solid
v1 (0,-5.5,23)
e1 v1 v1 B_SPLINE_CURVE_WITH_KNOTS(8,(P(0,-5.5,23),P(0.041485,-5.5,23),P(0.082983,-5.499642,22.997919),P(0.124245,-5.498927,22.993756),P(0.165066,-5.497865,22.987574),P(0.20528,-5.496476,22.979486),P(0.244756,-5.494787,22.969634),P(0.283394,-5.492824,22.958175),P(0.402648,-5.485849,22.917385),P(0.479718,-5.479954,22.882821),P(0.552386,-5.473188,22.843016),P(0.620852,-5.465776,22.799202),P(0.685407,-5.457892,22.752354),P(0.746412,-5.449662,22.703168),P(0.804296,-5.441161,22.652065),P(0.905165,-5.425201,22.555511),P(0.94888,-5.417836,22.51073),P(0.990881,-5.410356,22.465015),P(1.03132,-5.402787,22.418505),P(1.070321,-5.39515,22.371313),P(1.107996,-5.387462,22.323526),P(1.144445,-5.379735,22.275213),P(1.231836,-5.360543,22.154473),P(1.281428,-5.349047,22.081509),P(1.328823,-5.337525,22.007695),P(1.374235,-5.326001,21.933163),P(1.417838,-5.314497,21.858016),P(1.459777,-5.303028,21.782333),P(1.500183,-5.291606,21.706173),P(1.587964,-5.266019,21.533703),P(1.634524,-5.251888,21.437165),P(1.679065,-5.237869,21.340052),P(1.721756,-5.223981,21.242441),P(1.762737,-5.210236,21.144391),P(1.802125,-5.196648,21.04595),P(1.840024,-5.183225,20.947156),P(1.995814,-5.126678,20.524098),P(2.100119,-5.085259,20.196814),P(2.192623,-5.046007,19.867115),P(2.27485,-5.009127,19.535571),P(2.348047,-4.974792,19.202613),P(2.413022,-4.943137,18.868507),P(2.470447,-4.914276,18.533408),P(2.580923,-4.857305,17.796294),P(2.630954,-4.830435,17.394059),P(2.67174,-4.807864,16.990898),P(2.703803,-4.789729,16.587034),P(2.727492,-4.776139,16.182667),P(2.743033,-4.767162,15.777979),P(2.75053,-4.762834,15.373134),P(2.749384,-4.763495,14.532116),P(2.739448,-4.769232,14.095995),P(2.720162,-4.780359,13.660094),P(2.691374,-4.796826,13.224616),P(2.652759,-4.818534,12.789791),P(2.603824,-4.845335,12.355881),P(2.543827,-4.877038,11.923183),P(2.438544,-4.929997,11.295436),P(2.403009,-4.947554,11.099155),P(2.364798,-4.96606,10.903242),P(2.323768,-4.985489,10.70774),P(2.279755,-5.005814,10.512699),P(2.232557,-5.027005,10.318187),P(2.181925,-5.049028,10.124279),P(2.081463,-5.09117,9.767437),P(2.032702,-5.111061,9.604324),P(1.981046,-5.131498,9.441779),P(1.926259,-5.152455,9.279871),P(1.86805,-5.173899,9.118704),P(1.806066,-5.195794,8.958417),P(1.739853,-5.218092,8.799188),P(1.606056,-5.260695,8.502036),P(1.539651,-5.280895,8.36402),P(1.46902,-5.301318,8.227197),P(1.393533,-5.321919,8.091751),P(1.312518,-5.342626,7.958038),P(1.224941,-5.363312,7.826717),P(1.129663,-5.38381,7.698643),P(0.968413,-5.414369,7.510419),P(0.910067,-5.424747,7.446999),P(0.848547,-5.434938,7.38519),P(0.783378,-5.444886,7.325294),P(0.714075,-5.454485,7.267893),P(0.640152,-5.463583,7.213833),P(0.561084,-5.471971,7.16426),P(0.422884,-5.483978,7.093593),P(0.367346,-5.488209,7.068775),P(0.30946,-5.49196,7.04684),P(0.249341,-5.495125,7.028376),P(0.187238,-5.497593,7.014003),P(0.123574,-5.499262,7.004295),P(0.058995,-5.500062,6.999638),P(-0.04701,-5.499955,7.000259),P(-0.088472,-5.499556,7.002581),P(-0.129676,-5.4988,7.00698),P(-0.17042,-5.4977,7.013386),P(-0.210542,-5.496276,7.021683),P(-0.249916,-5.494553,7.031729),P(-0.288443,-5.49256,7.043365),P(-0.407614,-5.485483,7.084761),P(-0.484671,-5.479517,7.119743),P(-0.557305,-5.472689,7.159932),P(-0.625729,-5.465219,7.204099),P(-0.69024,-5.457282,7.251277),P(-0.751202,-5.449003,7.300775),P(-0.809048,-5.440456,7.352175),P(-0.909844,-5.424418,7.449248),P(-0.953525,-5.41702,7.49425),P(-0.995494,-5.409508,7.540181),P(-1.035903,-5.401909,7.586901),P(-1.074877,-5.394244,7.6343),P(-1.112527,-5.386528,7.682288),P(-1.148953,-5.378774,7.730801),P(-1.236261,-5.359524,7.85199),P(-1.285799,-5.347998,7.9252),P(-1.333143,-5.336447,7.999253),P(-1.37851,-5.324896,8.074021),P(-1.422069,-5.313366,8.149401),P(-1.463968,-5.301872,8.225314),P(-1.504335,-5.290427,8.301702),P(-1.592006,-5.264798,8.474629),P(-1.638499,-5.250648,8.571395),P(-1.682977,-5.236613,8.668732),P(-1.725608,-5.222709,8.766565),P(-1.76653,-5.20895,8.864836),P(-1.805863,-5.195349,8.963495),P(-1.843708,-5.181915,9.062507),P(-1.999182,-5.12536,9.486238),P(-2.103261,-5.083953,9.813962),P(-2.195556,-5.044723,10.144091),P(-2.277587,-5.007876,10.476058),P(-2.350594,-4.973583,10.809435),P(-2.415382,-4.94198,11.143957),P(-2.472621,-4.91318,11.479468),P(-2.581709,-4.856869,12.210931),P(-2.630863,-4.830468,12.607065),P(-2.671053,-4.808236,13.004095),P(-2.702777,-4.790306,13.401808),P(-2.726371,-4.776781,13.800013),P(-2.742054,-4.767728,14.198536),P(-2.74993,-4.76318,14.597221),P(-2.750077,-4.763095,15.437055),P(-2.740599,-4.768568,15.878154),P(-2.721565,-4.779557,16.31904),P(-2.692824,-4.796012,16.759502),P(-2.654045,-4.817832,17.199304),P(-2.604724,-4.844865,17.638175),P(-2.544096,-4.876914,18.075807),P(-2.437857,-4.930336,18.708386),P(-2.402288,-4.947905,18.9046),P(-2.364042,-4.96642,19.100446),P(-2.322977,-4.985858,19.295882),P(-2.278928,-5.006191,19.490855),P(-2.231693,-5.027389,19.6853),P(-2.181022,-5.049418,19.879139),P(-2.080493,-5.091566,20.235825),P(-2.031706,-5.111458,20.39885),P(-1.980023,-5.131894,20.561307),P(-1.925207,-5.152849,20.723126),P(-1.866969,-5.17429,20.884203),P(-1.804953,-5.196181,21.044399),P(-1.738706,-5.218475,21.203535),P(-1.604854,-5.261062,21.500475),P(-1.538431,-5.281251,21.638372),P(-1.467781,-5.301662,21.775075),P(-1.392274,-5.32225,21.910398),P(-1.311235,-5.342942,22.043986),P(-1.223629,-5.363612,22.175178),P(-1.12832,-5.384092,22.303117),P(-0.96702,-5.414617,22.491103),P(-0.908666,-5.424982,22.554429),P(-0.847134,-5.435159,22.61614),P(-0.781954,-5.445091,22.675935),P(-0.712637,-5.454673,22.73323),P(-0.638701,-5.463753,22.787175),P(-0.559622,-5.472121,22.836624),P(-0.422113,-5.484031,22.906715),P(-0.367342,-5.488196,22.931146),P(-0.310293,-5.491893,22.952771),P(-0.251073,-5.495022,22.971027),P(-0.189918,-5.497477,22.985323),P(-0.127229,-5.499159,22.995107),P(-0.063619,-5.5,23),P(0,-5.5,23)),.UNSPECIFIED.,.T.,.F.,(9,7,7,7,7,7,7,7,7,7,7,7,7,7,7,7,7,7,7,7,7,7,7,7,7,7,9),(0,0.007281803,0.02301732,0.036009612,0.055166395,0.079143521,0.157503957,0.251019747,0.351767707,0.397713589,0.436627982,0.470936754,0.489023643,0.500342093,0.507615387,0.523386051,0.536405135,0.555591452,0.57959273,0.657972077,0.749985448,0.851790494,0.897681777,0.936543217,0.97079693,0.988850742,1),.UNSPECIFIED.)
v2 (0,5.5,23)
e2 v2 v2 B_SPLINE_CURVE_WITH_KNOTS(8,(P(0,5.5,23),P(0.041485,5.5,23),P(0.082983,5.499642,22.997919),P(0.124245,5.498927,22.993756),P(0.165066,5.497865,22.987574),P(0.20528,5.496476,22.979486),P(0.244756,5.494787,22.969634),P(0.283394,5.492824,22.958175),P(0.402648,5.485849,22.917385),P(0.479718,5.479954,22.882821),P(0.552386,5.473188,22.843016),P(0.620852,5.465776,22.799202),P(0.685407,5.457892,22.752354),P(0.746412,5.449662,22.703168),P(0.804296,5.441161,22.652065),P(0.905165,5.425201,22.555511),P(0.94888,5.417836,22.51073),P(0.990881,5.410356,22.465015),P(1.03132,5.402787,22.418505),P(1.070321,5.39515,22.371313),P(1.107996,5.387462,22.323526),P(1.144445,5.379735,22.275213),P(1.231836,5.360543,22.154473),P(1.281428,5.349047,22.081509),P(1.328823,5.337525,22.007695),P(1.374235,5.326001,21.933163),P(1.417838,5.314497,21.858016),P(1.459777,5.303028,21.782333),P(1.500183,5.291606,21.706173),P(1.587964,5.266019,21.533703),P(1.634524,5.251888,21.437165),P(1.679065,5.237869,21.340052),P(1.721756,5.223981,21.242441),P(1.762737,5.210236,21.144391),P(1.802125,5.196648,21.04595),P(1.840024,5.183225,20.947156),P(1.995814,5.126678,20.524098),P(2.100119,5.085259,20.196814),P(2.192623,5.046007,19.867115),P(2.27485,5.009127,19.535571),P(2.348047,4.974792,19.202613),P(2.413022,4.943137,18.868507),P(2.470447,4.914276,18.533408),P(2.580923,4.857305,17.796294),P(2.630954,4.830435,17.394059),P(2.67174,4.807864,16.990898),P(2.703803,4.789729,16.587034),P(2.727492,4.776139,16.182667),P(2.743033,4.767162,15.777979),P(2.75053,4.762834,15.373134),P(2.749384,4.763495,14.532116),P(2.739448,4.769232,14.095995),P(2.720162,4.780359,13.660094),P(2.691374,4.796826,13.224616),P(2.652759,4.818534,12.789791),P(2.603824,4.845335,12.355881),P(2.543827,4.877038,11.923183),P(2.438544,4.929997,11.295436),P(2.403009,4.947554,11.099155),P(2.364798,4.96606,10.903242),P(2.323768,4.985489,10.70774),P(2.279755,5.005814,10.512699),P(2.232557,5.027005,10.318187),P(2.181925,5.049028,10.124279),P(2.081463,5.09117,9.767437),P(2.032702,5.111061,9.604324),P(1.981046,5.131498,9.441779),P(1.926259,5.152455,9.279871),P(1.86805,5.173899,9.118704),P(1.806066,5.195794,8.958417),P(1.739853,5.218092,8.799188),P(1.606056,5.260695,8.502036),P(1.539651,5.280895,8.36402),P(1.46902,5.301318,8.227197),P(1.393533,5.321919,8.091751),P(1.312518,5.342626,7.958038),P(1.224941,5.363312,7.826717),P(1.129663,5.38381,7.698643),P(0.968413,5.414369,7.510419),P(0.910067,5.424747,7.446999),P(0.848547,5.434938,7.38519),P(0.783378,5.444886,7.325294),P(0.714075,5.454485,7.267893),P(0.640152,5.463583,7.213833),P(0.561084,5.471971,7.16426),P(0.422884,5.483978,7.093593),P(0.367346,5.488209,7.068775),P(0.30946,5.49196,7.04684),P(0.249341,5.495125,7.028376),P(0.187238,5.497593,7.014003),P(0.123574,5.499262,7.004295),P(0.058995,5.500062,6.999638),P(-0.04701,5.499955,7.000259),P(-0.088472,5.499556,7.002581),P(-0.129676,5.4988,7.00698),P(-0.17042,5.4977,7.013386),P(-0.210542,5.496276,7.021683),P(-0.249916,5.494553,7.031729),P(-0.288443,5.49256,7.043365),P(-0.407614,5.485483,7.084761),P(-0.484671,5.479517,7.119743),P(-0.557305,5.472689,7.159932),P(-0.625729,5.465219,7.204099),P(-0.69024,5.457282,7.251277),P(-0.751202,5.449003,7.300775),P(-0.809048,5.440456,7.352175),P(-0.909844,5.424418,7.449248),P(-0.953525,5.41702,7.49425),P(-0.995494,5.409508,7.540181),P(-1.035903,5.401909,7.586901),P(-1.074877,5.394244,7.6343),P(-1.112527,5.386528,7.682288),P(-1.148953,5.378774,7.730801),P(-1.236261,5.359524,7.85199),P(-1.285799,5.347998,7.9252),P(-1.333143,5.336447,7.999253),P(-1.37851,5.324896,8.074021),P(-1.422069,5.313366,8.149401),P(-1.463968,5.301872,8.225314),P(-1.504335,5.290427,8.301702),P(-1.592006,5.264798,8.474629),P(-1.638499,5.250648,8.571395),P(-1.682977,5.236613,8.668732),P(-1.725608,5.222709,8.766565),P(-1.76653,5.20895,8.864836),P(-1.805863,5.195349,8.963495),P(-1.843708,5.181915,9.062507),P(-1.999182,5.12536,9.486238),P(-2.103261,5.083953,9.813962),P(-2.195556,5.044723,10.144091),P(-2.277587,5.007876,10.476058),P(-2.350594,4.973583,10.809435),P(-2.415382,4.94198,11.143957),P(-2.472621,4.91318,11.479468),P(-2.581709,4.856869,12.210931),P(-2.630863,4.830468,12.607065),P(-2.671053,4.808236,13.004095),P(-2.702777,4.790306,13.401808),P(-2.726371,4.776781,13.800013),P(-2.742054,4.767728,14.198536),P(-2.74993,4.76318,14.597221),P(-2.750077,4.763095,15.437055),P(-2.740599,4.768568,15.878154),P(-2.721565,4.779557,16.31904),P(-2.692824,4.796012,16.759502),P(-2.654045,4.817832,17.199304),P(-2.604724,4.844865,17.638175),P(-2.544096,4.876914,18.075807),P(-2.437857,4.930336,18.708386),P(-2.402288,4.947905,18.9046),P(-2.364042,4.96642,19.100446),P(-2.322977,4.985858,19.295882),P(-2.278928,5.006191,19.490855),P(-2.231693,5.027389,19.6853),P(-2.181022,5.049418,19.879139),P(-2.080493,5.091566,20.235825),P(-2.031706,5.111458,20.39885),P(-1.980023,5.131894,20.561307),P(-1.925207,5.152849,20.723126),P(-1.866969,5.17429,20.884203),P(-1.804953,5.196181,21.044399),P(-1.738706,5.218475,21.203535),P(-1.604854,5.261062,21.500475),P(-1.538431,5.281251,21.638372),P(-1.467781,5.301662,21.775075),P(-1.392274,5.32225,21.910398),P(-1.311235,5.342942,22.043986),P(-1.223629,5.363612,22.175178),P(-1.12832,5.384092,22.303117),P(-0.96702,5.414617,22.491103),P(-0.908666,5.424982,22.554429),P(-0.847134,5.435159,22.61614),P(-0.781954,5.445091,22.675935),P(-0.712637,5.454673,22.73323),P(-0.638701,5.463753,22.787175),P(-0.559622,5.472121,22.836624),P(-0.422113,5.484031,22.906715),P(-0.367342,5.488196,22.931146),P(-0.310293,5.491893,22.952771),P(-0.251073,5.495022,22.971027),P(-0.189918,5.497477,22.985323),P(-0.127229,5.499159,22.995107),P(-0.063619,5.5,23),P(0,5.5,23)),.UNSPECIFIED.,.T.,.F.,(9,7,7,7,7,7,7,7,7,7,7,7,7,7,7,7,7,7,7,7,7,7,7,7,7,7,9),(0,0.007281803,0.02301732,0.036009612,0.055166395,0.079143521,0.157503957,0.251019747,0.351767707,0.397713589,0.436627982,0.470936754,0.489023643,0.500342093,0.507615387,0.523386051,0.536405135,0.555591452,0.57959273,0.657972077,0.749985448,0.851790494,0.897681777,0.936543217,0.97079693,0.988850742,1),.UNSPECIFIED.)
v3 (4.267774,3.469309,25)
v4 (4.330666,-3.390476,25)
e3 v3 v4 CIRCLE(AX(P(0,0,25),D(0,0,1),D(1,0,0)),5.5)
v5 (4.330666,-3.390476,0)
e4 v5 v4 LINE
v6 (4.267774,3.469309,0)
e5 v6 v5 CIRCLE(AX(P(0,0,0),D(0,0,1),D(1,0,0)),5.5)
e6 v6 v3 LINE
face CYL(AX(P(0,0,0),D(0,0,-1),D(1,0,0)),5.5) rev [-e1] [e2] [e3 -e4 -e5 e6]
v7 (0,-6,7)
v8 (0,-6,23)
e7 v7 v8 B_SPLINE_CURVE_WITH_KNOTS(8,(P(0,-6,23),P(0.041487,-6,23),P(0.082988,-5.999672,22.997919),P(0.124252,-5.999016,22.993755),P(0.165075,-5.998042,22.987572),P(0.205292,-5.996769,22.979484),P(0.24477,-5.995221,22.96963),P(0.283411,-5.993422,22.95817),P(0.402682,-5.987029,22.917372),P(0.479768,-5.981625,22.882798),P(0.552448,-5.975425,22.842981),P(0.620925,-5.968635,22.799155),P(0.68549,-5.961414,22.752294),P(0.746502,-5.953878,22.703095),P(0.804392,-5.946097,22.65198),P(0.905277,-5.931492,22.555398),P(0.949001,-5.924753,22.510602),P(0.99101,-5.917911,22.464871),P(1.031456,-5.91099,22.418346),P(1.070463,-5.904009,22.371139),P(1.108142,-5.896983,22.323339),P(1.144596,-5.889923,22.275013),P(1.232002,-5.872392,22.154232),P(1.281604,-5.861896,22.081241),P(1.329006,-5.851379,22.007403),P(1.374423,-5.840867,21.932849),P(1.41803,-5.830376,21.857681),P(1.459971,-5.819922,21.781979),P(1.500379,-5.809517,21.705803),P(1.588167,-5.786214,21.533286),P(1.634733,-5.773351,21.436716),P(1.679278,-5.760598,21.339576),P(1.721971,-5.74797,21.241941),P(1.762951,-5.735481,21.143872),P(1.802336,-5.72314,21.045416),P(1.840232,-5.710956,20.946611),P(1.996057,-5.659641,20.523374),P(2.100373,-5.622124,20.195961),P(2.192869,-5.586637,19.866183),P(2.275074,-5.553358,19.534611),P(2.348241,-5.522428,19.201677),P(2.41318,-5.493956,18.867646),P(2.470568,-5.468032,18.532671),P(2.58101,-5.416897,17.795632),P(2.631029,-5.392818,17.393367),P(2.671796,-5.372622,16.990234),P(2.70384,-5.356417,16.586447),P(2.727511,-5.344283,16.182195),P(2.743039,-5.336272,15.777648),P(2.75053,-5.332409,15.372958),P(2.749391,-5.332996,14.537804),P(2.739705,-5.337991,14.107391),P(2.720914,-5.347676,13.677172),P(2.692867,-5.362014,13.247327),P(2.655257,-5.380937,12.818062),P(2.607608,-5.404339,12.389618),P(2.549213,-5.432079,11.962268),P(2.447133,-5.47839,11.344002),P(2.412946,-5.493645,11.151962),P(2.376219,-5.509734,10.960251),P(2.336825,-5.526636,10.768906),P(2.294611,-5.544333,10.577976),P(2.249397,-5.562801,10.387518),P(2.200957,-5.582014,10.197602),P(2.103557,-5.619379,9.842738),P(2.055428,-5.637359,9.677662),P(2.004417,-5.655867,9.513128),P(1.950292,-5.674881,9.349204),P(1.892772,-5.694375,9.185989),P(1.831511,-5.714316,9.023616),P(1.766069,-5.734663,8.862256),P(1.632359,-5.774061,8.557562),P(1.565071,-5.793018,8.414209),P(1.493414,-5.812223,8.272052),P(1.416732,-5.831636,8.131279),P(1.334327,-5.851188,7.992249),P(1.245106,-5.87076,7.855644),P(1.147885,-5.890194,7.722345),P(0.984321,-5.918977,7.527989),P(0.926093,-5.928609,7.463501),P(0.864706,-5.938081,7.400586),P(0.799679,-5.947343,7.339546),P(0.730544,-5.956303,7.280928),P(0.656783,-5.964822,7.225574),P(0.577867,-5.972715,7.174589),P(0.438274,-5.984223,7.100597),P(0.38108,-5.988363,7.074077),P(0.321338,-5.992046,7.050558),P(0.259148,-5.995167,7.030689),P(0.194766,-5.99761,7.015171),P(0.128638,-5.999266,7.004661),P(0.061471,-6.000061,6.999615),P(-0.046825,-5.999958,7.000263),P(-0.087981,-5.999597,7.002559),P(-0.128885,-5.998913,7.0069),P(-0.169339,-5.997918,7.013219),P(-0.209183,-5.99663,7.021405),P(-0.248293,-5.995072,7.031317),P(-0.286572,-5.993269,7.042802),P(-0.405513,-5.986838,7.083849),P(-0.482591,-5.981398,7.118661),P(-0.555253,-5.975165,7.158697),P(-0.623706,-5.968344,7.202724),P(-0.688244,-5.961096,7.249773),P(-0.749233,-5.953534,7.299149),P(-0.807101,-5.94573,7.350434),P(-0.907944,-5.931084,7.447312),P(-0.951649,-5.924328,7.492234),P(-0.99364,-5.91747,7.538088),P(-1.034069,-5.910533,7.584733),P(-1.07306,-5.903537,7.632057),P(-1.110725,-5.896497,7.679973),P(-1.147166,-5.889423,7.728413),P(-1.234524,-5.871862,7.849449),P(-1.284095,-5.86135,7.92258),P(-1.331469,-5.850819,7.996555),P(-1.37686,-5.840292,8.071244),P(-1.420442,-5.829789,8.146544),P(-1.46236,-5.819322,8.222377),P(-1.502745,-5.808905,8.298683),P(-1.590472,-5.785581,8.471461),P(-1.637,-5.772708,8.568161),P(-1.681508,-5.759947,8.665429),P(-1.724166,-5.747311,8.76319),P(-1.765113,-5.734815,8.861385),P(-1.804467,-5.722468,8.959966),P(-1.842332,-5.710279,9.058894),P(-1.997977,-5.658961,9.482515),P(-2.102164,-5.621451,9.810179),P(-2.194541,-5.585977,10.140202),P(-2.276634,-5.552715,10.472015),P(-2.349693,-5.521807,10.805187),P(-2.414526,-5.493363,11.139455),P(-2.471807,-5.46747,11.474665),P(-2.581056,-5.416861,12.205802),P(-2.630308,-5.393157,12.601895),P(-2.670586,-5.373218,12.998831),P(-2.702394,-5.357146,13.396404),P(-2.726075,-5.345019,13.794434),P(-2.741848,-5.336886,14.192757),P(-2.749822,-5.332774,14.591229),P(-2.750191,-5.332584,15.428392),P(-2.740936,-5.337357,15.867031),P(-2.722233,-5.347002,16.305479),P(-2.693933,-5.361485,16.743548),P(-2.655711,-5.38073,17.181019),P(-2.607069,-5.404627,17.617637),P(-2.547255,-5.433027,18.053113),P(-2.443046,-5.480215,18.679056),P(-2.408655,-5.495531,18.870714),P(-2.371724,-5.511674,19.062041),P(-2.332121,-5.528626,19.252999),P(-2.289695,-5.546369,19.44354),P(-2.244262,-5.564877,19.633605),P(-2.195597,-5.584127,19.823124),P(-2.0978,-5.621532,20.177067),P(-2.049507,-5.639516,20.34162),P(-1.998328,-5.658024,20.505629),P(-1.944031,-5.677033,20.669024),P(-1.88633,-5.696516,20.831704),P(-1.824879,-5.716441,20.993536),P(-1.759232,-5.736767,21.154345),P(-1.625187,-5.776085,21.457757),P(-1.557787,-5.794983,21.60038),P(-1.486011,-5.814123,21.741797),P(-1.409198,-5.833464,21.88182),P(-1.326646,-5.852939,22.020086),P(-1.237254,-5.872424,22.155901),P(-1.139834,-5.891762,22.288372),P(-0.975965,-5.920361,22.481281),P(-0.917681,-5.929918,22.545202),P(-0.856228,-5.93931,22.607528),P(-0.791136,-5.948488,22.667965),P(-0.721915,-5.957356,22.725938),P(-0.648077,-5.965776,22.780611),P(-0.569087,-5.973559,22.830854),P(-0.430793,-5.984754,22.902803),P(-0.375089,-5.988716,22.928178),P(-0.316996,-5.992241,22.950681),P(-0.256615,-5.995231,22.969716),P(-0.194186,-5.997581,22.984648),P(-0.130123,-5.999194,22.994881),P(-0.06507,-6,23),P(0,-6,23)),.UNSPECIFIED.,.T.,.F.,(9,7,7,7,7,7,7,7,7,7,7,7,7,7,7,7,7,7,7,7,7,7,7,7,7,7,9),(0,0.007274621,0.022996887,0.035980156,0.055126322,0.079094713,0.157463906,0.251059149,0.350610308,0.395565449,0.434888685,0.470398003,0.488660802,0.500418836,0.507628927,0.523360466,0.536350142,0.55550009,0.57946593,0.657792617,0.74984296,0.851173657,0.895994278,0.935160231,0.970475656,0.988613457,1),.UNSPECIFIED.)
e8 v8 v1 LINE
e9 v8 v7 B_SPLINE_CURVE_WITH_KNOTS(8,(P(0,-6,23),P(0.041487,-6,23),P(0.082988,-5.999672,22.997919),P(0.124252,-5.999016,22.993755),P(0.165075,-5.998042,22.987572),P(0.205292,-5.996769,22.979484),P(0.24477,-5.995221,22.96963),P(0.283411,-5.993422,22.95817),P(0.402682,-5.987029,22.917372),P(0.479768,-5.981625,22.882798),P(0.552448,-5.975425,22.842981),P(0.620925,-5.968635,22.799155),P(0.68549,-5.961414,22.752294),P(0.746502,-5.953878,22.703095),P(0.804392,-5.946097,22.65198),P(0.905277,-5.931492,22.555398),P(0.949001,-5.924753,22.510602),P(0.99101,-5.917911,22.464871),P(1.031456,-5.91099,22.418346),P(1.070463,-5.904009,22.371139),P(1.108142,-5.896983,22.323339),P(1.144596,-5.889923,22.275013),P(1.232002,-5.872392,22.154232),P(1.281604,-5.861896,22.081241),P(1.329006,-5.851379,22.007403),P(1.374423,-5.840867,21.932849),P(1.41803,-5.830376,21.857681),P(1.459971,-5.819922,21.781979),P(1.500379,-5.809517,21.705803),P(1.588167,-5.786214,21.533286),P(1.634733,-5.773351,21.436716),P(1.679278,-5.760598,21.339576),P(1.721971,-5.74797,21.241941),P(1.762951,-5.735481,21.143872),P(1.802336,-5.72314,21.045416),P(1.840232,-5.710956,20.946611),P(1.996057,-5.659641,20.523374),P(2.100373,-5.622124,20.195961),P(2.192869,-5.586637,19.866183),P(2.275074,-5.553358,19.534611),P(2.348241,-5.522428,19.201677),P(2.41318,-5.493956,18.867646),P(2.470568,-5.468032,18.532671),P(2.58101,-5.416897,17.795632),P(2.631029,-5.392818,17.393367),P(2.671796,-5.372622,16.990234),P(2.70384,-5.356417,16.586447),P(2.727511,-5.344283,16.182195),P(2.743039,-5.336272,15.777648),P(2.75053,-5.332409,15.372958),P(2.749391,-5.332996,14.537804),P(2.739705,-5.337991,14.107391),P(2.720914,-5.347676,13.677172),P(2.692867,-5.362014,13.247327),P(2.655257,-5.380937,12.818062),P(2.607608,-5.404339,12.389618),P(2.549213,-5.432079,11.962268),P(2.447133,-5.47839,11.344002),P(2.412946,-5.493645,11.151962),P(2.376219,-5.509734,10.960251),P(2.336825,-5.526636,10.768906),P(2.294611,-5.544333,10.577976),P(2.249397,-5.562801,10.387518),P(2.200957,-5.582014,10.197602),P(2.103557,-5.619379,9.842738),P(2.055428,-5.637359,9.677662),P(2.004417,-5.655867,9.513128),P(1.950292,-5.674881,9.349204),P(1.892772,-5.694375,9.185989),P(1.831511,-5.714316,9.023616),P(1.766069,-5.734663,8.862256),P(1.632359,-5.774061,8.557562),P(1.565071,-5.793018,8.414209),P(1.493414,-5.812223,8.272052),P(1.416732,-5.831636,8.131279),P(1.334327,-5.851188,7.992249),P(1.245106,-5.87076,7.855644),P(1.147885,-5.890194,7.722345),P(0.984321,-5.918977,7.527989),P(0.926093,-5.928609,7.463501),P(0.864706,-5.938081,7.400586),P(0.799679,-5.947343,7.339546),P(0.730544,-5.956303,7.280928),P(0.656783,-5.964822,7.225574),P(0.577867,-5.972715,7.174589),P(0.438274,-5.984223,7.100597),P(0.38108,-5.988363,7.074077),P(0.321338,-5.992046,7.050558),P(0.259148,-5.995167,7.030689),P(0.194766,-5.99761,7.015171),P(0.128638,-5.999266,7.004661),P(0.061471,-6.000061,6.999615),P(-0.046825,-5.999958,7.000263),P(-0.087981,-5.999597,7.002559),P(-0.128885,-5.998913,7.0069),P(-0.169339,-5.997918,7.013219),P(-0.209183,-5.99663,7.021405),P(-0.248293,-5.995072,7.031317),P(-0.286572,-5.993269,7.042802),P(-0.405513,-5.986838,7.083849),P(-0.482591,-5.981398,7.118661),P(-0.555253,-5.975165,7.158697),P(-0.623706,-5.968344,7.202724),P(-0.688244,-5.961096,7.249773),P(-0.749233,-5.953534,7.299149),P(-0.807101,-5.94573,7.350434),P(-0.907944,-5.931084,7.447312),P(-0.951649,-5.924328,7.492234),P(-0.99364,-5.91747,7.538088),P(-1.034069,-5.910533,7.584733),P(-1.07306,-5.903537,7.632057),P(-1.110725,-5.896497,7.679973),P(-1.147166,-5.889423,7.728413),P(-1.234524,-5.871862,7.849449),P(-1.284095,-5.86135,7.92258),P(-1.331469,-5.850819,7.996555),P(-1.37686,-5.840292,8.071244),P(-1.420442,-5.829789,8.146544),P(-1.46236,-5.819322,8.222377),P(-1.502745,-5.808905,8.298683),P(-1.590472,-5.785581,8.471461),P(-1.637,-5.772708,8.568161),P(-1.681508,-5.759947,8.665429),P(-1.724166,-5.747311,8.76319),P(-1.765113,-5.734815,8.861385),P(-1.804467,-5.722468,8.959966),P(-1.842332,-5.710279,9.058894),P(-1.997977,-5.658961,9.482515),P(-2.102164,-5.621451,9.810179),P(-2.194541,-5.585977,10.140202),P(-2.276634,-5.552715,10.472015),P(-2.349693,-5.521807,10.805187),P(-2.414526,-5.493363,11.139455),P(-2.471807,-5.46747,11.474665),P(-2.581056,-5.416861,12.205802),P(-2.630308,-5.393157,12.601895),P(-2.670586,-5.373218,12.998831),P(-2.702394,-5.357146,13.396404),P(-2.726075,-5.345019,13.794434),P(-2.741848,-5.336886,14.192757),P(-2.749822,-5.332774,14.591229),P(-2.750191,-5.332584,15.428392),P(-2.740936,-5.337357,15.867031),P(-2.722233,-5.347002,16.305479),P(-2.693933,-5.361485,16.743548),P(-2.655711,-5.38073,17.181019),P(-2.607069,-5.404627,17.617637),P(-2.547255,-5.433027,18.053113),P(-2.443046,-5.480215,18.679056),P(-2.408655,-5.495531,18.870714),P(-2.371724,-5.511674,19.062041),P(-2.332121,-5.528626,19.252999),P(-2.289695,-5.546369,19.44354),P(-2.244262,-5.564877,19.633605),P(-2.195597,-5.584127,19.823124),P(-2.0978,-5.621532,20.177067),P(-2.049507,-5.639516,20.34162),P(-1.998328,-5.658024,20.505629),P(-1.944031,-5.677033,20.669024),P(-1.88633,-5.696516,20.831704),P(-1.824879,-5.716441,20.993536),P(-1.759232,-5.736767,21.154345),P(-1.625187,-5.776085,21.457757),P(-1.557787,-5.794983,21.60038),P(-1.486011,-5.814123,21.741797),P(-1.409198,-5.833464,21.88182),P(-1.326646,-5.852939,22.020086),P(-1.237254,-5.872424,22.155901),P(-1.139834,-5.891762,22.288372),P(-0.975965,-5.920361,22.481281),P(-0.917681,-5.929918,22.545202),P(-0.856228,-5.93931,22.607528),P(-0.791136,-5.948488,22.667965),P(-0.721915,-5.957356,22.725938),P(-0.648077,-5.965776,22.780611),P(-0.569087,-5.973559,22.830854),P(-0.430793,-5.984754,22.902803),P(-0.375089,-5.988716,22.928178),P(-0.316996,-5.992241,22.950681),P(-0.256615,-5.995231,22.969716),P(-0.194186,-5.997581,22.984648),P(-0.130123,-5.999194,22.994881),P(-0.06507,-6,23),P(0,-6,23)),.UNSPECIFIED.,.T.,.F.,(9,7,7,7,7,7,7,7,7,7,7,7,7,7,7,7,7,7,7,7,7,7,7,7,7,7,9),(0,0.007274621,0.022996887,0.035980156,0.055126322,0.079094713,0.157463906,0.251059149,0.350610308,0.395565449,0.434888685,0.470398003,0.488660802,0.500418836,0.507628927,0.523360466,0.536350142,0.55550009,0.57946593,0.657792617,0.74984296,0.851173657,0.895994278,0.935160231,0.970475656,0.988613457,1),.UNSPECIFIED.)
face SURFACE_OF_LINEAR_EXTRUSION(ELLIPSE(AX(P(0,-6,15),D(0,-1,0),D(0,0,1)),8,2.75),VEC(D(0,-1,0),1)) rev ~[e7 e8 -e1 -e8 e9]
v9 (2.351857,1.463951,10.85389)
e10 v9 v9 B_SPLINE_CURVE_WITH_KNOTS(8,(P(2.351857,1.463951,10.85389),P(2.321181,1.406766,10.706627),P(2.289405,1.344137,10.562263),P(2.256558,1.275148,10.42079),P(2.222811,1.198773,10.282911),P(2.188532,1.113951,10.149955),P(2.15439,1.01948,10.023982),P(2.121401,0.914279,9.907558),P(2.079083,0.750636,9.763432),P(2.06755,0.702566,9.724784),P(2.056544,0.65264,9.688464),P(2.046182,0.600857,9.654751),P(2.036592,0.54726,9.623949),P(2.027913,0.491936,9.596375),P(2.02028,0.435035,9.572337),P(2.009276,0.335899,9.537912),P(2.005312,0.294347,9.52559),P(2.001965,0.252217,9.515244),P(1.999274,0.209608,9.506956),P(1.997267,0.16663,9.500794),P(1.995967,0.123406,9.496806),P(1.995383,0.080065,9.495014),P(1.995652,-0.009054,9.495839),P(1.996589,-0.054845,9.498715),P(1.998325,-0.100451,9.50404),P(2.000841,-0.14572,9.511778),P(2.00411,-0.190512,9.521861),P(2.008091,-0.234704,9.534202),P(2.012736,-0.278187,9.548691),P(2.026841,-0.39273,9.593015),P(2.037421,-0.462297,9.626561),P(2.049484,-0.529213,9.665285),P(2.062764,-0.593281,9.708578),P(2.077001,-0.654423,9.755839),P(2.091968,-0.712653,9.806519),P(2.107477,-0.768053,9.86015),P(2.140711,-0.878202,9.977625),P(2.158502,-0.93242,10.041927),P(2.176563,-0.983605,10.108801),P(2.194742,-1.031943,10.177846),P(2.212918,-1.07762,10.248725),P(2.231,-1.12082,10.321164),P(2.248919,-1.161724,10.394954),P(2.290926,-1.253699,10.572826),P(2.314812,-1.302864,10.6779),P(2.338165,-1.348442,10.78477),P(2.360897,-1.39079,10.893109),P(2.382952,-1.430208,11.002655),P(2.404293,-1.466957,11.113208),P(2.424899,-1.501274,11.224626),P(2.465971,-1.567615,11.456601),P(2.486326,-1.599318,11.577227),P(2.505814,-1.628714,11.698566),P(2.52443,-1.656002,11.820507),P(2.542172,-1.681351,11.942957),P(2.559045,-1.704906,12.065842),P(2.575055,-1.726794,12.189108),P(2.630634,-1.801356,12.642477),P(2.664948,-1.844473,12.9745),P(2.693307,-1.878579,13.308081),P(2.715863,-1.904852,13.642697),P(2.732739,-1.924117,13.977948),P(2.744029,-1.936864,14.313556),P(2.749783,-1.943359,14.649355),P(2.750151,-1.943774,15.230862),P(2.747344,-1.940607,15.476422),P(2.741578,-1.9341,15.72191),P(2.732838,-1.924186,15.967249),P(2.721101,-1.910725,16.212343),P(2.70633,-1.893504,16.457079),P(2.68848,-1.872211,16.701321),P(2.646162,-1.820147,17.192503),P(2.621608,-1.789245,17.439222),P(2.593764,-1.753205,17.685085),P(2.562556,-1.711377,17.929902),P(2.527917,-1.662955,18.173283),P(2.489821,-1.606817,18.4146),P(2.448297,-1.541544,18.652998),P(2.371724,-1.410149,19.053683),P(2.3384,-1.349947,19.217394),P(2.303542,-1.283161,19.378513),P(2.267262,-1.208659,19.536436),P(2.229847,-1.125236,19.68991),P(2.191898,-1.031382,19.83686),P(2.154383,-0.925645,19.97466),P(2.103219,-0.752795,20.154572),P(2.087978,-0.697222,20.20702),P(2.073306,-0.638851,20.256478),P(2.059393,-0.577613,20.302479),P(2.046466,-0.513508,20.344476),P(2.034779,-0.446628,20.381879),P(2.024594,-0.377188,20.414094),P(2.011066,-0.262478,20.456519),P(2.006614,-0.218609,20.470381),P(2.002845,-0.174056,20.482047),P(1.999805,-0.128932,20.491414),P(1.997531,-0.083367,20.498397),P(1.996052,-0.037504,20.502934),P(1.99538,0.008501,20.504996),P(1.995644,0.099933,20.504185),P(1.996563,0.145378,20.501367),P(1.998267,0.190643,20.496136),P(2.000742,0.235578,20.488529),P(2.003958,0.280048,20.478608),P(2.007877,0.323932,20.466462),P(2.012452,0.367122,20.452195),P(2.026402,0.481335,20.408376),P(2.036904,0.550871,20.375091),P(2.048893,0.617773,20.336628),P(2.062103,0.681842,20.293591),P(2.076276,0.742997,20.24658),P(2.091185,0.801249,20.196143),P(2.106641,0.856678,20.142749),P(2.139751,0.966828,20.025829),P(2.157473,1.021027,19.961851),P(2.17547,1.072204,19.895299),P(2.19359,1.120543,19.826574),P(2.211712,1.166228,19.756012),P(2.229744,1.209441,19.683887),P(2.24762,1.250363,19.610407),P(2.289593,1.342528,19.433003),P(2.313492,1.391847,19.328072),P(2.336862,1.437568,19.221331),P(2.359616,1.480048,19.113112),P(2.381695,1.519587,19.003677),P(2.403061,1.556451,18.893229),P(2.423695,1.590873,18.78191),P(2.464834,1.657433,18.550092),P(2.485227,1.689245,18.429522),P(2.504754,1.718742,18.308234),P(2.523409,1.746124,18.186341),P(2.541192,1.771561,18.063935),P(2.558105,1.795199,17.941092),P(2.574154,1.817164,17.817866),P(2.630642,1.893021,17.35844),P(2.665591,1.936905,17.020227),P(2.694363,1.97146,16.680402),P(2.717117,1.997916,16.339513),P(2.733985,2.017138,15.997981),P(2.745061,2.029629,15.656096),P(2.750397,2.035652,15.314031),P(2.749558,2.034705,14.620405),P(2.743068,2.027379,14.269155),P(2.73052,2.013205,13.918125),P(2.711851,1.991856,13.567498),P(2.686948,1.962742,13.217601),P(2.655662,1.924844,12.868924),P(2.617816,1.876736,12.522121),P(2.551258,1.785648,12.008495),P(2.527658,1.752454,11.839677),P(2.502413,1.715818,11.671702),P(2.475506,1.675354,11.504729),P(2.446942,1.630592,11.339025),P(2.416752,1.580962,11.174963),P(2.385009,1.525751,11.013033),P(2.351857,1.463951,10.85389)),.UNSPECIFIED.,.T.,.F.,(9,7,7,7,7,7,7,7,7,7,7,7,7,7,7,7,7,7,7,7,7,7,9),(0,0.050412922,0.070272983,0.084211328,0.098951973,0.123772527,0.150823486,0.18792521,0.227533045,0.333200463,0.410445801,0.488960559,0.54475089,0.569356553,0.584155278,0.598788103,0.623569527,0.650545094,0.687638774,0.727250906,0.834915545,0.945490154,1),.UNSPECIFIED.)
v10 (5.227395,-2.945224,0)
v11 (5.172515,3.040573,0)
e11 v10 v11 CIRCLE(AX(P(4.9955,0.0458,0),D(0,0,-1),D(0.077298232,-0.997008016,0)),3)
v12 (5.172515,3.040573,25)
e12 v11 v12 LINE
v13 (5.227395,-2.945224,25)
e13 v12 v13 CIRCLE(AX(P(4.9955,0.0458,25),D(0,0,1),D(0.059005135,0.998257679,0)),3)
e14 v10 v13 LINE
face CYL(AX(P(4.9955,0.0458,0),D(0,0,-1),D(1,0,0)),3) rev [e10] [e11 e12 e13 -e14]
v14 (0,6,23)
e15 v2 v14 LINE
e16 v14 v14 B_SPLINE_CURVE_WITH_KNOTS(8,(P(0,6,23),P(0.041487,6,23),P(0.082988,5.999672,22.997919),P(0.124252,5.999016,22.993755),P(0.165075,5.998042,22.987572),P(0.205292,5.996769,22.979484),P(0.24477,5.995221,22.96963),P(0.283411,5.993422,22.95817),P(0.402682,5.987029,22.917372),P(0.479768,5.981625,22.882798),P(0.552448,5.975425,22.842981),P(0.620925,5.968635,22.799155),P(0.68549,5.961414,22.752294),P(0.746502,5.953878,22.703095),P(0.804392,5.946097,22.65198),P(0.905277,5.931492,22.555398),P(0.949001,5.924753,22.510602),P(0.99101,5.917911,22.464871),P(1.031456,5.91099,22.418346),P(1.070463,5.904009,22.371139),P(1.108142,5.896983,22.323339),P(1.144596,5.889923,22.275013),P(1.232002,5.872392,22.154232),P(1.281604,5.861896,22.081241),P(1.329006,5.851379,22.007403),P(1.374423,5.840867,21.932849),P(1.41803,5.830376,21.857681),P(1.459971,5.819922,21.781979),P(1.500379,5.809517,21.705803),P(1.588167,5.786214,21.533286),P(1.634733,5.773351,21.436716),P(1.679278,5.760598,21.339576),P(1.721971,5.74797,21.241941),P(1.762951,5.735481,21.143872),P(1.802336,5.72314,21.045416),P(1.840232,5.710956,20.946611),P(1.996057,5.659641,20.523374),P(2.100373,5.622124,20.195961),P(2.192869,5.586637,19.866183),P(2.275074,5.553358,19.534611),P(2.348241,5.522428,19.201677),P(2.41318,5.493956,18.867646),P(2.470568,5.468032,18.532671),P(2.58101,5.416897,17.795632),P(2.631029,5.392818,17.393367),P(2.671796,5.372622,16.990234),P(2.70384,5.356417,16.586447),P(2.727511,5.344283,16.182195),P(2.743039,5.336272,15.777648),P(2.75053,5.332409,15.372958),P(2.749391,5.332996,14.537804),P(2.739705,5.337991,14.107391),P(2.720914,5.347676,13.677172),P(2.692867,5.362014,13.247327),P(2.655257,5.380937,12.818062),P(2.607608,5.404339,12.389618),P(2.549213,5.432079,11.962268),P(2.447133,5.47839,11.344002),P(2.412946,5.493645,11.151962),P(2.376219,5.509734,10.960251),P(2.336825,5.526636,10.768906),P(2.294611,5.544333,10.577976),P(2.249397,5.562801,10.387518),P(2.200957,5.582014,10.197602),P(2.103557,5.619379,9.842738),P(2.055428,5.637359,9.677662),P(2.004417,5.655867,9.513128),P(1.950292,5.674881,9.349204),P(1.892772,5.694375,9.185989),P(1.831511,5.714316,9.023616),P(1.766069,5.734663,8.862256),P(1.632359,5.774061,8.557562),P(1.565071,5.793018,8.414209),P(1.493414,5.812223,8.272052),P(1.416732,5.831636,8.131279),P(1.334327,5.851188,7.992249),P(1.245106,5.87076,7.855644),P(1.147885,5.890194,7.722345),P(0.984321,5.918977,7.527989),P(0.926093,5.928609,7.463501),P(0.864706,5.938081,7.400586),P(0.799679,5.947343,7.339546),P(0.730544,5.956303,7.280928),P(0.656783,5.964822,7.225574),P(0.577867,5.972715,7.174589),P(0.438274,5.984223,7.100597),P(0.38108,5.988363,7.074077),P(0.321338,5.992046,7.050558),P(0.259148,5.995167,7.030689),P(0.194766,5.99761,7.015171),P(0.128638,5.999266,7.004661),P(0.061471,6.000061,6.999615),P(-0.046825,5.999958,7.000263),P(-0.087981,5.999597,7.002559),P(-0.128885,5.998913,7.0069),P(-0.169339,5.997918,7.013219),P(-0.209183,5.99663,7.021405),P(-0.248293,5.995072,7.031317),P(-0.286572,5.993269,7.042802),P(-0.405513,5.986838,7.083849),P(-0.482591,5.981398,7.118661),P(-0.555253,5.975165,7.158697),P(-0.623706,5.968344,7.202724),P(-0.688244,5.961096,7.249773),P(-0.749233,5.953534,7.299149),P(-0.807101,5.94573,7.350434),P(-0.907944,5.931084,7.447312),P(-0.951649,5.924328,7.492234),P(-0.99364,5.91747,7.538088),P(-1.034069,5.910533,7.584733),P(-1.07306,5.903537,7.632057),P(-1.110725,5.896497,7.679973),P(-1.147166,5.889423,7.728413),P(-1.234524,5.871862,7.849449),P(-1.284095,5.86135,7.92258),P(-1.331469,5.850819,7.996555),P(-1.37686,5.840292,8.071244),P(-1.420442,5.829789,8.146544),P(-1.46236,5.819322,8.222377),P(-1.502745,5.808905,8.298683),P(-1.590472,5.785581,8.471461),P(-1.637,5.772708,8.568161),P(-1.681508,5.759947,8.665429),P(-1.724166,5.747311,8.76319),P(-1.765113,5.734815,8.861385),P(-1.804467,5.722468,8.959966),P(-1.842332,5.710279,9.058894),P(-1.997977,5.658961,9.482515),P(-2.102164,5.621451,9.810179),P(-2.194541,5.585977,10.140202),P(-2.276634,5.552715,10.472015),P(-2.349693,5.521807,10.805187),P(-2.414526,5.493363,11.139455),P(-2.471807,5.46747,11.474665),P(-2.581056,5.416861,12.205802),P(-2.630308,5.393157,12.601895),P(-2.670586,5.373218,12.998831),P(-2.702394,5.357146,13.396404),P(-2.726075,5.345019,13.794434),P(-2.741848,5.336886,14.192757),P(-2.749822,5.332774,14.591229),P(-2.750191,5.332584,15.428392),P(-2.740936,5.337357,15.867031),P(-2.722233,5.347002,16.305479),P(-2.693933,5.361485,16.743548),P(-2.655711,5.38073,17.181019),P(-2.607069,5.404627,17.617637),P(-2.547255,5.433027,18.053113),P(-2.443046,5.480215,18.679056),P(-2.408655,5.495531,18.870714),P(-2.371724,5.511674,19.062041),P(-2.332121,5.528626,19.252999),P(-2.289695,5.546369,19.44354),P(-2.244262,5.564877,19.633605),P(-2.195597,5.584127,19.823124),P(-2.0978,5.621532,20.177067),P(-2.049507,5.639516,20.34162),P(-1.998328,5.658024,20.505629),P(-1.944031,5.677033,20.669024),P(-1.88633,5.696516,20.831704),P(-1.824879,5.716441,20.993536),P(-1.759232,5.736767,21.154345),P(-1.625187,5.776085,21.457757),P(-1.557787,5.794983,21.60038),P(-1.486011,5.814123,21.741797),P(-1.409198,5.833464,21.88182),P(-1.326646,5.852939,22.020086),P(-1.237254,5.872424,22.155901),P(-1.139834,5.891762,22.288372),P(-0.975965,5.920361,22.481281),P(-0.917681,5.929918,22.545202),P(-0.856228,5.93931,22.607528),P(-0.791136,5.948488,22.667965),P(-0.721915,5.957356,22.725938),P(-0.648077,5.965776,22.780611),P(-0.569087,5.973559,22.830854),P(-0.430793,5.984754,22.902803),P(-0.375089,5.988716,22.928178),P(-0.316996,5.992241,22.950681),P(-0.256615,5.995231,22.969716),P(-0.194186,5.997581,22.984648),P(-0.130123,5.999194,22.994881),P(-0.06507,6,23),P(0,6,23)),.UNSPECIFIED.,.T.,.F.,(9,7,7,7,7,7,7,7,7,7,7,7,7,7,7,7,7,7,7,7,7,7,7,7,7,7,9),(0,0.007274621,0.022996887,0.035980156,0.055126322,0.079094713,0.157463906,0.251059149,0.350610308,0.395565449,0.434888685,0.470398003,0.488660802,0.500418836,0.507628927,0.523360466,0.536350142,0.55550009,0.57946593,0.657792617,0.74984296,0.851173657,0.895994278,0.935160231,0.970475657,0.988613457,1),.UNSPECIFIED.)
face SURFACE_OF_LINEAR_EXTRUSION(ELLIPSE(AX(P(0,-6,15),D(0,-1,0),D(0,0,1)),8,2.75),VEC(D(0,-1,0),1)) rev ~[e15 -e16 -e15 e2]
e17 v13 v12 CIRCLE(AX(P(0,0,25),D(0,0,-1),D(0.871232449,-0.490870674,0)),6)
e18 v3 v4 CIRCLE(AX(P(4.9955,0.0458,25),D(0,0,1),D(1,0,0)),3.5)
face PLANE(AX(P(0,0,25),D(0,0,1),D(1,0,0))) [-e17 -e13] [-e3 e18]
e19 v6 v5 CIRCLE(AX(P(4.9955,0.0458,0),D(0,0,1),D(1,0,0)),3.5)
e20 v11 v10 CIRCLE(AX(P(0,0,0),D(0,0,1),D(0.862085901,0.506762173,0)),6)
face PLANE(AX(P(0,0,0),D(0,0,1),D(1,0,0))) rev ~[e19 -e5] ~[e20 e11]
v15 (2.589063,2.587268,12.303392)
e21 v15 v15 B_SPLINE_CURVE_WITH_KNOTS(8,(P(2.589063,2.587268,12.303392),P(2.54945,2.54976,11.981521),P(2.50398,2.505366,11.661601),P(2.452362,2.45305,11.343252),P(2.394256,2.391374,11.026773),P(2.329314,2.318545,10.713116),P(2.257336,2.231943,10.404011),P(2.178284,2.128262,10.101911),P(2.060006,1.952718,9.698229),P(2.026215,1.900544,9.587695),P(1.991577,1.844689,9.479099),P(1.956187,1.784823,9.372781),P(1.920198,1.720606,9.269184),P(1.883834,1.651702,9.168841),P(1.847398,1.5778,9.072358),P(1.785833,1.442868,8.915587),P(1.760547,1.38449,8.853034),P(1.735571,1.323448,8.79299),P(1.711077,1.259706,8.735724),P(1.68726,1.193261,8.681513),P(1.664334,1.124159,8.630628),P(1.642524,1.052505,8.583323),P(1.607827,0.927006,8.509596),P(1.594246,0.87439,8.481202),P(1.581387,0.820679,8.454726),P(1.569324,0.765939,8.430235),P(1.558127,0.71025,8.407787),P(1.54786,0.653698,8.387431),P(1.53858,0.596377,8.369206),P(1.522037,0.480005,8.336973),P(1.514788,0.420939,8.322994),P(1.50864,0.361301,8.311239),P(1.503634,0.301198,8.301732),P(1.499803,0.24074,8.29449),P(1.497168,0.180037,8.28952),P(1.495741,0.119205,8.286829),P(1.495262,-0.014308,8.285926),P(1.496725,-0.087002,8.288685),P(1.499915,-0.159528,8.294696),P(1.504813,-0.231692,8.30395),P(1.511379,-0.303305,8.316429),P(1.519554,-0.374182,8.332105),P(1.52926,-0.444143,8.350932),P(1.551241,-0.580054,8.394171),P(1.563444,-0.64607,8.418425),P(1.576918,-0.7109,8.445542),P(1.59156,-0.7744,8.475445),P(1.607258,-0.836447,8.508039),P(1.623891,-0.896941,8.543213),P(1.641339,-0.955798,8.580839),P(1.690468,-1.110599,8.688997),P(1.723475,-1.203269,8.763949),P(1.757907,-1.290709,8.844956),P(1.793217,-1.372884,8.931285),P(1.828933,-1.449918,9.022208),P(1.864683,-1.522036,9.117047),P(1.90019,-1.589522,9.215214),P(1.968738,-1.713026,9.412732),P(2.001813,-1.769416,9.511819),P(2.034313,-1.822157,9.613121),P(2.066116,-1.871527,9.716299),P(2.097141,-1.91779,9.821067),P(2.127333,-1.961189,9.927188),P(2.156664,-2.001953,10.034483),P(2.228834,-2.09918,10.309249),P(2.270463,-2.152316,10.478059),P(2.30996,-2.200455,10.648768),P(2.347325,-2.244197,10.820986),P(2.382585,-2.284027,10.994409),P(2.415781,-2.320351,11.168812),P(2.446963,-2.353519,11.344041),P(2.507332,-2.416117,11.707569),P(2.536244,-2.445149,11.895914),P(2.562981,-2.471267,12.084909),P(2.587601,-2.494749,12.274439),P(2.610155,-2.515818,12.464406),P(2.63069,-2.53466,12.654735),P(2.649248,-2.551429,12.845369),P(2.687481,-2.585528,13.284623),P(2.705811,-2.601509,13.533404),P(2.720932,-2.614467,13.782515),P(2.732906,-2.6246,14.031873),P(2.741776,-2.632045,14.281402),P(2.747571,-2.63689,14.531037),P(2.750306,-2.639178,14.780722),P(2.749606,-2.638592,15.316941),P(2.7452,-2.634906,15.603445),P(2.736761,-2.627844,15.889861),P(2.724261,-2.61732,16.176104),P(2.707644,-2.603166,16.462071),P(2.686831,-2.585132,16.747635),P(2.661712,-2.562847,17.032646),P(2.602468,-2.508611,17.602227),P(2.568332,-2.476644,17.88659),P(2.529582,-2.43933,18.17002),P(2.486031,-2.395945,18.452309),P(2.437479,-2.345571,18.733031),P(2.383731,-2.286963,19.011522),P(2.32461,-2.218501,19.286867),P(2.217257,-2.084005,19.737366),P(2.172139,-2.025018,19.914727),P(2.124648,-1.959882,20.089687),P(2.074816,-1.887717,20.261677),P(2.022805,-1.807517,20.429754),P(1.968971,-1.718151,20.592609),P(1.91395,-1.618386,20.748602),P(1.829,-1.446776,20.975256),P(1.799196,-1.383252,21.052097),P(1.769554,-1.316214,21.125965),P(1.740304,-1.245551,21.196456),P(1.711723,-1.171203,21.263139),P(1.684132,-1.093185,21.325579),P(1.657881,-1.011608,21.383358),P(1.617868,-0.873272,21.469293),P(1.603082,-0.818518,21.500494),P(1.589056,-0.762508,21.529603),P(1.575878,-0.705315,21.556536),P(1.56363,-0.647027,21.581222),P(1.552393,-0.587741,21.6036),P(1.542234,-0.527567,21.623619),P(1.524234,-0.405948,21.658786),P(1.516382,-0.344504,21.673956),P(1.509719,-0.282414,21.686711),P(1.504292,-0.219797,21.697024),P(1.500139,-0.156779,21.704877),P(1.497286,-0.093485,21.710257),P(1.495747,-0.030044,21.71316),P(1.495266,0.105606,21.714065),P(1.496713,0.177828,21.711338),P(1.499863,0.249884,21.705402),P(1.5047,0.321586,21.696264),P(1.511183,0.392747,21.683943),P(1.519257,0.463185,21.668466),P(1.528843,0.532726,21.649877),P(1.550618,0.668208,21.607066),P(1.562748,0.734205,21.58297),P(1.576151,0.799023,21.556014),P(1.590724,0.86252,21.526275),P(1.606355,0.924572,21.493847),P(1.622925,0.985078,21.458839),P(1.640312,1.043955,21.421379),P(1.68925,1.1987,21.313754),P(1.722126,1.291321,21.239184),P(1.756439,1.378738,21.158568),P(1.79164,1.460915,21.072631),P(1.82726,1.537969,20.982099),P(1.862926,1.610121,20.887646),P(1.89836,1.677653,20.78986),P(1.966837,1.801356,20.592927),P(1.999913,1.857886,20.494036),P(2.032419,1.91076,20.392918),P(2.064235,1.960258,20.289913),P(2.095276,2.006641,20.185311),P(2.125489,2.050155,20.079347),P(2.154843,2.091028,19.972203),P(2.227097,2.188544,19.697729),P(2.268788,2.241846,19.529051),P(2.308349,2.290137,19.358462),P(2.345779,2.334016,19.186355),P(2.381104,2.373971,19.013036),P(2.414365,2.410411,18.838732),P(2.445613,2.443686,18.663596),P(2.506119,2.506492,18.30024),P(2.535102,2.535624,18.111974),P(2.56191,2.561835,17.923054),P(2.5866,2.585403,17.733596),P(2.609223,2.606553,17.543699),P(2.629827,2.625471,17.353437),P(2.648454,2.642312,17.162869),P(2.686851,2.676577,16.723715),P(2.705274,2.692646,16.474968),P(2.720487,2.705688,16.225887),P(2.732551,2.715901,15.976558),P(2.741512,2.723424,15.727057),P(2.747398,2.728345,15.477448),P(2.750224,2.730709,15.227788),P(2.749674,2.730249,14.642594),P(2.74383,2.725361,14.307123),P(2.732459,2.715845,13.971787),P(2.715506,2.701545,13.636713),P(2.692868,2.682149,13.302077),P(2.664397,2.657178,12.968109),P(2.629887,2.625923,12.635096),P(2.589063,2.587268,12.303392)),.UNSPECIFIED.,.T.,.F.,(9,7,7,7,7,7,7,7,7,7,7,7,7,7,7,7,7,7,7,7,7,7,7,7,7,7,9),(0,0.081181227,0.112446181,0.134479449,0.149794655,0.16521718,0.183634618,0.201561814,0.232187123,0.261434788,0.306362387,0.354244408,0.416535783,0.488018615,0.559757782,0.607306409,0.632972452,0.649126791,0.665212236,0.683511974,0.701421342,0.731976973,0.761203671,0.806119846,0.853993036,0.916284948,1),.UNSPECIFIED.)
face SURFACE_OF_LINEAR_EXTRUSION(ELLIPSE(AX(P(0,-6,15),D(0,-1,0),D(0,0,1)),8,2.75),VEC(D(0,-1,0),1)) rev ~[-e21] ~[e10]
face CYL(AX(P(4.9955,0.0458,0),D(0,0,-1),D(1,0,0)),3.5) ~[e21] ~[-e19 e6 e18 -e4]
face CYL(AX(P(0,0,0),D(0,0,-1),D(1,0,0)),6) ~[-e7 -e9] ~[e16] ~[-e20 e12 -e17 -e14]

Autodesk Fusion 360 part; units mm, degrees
sketch "Sketch1" plane through (0, 0, 0) normal (0, 0, 1) x (1, 0, 0)
  circle A0 centre (0, 0) radius 6
  circle A1 centre (0, 0) radius 5.5
  circle A2 centre (4.9955, 0.0458) radius 3
  circle A3 centre (4.9955, 0.0458) radius 3.5
  dimension "d1" = 12
  dimension "d2" = 11
  dimension "d4" = 6
  dimension "d5" = 7
extrude "Extrude1" add sketch "Sketch1" along normal blind 25 contours A0 A1 A2 A3 | A0 A1 A2 A3 | A0 A1 A3 | A1 A2 A3
ref_plane "WorkPlane1" through (0, -6, 10.4032) normal (0, -1, 0) x (-1, 0, 0)
sketch "Sketch2" plane through (0, -6, 0) normal (0, -1, 0) x (-1, 0, 0)
  ellipse E0 centre (0, -15) end of major axis (0, -23) minor radius 2.75
  line L0 (0, -7) -> (0, -23) construction
  line L1 (-2.75, -15) -> (2.75, -15) construction
  dimension "d9" = 5.5
extrude "Extrude2" cut sketch "Sketch2" against normal blind 20
sketch "Sketch3" plane through (0, 0, 0) normal (0, 0, 1) x (1, 0, 0)
  line L0 (-63, 9) -> (-37, 9)
  line L1 (-37, 9) -> (-37, -12)
  line L2 (-37, -12) -> (-63, -12)
  line L3 (-63, -12) -> (-63, 9)
extrude "Extrude3" [suppressed]
sketch "Sketch4" plane through (0, -12, 0) normal (0, -1, 0) x (1, 0, 0)
  line L0 (-63, 0) -> (-37, 0)
  line L1 (-37, 0) -> (-37, 47)
  line L2 (-37, 47) -> (-63, 47)
  line L3 (-63, 47) -> (-63, 0)
  circle A0 centre (-54, 23) radius 2
  circle A1 centre (-54, 32) radius 2
  dimension "d14" = 4
  dimension "d15" = 4
  dimension "d16" = 9
  dimension "d17" = 15
  dimension "d18" = 23
equation "d2 = d1 - 1 mm"
